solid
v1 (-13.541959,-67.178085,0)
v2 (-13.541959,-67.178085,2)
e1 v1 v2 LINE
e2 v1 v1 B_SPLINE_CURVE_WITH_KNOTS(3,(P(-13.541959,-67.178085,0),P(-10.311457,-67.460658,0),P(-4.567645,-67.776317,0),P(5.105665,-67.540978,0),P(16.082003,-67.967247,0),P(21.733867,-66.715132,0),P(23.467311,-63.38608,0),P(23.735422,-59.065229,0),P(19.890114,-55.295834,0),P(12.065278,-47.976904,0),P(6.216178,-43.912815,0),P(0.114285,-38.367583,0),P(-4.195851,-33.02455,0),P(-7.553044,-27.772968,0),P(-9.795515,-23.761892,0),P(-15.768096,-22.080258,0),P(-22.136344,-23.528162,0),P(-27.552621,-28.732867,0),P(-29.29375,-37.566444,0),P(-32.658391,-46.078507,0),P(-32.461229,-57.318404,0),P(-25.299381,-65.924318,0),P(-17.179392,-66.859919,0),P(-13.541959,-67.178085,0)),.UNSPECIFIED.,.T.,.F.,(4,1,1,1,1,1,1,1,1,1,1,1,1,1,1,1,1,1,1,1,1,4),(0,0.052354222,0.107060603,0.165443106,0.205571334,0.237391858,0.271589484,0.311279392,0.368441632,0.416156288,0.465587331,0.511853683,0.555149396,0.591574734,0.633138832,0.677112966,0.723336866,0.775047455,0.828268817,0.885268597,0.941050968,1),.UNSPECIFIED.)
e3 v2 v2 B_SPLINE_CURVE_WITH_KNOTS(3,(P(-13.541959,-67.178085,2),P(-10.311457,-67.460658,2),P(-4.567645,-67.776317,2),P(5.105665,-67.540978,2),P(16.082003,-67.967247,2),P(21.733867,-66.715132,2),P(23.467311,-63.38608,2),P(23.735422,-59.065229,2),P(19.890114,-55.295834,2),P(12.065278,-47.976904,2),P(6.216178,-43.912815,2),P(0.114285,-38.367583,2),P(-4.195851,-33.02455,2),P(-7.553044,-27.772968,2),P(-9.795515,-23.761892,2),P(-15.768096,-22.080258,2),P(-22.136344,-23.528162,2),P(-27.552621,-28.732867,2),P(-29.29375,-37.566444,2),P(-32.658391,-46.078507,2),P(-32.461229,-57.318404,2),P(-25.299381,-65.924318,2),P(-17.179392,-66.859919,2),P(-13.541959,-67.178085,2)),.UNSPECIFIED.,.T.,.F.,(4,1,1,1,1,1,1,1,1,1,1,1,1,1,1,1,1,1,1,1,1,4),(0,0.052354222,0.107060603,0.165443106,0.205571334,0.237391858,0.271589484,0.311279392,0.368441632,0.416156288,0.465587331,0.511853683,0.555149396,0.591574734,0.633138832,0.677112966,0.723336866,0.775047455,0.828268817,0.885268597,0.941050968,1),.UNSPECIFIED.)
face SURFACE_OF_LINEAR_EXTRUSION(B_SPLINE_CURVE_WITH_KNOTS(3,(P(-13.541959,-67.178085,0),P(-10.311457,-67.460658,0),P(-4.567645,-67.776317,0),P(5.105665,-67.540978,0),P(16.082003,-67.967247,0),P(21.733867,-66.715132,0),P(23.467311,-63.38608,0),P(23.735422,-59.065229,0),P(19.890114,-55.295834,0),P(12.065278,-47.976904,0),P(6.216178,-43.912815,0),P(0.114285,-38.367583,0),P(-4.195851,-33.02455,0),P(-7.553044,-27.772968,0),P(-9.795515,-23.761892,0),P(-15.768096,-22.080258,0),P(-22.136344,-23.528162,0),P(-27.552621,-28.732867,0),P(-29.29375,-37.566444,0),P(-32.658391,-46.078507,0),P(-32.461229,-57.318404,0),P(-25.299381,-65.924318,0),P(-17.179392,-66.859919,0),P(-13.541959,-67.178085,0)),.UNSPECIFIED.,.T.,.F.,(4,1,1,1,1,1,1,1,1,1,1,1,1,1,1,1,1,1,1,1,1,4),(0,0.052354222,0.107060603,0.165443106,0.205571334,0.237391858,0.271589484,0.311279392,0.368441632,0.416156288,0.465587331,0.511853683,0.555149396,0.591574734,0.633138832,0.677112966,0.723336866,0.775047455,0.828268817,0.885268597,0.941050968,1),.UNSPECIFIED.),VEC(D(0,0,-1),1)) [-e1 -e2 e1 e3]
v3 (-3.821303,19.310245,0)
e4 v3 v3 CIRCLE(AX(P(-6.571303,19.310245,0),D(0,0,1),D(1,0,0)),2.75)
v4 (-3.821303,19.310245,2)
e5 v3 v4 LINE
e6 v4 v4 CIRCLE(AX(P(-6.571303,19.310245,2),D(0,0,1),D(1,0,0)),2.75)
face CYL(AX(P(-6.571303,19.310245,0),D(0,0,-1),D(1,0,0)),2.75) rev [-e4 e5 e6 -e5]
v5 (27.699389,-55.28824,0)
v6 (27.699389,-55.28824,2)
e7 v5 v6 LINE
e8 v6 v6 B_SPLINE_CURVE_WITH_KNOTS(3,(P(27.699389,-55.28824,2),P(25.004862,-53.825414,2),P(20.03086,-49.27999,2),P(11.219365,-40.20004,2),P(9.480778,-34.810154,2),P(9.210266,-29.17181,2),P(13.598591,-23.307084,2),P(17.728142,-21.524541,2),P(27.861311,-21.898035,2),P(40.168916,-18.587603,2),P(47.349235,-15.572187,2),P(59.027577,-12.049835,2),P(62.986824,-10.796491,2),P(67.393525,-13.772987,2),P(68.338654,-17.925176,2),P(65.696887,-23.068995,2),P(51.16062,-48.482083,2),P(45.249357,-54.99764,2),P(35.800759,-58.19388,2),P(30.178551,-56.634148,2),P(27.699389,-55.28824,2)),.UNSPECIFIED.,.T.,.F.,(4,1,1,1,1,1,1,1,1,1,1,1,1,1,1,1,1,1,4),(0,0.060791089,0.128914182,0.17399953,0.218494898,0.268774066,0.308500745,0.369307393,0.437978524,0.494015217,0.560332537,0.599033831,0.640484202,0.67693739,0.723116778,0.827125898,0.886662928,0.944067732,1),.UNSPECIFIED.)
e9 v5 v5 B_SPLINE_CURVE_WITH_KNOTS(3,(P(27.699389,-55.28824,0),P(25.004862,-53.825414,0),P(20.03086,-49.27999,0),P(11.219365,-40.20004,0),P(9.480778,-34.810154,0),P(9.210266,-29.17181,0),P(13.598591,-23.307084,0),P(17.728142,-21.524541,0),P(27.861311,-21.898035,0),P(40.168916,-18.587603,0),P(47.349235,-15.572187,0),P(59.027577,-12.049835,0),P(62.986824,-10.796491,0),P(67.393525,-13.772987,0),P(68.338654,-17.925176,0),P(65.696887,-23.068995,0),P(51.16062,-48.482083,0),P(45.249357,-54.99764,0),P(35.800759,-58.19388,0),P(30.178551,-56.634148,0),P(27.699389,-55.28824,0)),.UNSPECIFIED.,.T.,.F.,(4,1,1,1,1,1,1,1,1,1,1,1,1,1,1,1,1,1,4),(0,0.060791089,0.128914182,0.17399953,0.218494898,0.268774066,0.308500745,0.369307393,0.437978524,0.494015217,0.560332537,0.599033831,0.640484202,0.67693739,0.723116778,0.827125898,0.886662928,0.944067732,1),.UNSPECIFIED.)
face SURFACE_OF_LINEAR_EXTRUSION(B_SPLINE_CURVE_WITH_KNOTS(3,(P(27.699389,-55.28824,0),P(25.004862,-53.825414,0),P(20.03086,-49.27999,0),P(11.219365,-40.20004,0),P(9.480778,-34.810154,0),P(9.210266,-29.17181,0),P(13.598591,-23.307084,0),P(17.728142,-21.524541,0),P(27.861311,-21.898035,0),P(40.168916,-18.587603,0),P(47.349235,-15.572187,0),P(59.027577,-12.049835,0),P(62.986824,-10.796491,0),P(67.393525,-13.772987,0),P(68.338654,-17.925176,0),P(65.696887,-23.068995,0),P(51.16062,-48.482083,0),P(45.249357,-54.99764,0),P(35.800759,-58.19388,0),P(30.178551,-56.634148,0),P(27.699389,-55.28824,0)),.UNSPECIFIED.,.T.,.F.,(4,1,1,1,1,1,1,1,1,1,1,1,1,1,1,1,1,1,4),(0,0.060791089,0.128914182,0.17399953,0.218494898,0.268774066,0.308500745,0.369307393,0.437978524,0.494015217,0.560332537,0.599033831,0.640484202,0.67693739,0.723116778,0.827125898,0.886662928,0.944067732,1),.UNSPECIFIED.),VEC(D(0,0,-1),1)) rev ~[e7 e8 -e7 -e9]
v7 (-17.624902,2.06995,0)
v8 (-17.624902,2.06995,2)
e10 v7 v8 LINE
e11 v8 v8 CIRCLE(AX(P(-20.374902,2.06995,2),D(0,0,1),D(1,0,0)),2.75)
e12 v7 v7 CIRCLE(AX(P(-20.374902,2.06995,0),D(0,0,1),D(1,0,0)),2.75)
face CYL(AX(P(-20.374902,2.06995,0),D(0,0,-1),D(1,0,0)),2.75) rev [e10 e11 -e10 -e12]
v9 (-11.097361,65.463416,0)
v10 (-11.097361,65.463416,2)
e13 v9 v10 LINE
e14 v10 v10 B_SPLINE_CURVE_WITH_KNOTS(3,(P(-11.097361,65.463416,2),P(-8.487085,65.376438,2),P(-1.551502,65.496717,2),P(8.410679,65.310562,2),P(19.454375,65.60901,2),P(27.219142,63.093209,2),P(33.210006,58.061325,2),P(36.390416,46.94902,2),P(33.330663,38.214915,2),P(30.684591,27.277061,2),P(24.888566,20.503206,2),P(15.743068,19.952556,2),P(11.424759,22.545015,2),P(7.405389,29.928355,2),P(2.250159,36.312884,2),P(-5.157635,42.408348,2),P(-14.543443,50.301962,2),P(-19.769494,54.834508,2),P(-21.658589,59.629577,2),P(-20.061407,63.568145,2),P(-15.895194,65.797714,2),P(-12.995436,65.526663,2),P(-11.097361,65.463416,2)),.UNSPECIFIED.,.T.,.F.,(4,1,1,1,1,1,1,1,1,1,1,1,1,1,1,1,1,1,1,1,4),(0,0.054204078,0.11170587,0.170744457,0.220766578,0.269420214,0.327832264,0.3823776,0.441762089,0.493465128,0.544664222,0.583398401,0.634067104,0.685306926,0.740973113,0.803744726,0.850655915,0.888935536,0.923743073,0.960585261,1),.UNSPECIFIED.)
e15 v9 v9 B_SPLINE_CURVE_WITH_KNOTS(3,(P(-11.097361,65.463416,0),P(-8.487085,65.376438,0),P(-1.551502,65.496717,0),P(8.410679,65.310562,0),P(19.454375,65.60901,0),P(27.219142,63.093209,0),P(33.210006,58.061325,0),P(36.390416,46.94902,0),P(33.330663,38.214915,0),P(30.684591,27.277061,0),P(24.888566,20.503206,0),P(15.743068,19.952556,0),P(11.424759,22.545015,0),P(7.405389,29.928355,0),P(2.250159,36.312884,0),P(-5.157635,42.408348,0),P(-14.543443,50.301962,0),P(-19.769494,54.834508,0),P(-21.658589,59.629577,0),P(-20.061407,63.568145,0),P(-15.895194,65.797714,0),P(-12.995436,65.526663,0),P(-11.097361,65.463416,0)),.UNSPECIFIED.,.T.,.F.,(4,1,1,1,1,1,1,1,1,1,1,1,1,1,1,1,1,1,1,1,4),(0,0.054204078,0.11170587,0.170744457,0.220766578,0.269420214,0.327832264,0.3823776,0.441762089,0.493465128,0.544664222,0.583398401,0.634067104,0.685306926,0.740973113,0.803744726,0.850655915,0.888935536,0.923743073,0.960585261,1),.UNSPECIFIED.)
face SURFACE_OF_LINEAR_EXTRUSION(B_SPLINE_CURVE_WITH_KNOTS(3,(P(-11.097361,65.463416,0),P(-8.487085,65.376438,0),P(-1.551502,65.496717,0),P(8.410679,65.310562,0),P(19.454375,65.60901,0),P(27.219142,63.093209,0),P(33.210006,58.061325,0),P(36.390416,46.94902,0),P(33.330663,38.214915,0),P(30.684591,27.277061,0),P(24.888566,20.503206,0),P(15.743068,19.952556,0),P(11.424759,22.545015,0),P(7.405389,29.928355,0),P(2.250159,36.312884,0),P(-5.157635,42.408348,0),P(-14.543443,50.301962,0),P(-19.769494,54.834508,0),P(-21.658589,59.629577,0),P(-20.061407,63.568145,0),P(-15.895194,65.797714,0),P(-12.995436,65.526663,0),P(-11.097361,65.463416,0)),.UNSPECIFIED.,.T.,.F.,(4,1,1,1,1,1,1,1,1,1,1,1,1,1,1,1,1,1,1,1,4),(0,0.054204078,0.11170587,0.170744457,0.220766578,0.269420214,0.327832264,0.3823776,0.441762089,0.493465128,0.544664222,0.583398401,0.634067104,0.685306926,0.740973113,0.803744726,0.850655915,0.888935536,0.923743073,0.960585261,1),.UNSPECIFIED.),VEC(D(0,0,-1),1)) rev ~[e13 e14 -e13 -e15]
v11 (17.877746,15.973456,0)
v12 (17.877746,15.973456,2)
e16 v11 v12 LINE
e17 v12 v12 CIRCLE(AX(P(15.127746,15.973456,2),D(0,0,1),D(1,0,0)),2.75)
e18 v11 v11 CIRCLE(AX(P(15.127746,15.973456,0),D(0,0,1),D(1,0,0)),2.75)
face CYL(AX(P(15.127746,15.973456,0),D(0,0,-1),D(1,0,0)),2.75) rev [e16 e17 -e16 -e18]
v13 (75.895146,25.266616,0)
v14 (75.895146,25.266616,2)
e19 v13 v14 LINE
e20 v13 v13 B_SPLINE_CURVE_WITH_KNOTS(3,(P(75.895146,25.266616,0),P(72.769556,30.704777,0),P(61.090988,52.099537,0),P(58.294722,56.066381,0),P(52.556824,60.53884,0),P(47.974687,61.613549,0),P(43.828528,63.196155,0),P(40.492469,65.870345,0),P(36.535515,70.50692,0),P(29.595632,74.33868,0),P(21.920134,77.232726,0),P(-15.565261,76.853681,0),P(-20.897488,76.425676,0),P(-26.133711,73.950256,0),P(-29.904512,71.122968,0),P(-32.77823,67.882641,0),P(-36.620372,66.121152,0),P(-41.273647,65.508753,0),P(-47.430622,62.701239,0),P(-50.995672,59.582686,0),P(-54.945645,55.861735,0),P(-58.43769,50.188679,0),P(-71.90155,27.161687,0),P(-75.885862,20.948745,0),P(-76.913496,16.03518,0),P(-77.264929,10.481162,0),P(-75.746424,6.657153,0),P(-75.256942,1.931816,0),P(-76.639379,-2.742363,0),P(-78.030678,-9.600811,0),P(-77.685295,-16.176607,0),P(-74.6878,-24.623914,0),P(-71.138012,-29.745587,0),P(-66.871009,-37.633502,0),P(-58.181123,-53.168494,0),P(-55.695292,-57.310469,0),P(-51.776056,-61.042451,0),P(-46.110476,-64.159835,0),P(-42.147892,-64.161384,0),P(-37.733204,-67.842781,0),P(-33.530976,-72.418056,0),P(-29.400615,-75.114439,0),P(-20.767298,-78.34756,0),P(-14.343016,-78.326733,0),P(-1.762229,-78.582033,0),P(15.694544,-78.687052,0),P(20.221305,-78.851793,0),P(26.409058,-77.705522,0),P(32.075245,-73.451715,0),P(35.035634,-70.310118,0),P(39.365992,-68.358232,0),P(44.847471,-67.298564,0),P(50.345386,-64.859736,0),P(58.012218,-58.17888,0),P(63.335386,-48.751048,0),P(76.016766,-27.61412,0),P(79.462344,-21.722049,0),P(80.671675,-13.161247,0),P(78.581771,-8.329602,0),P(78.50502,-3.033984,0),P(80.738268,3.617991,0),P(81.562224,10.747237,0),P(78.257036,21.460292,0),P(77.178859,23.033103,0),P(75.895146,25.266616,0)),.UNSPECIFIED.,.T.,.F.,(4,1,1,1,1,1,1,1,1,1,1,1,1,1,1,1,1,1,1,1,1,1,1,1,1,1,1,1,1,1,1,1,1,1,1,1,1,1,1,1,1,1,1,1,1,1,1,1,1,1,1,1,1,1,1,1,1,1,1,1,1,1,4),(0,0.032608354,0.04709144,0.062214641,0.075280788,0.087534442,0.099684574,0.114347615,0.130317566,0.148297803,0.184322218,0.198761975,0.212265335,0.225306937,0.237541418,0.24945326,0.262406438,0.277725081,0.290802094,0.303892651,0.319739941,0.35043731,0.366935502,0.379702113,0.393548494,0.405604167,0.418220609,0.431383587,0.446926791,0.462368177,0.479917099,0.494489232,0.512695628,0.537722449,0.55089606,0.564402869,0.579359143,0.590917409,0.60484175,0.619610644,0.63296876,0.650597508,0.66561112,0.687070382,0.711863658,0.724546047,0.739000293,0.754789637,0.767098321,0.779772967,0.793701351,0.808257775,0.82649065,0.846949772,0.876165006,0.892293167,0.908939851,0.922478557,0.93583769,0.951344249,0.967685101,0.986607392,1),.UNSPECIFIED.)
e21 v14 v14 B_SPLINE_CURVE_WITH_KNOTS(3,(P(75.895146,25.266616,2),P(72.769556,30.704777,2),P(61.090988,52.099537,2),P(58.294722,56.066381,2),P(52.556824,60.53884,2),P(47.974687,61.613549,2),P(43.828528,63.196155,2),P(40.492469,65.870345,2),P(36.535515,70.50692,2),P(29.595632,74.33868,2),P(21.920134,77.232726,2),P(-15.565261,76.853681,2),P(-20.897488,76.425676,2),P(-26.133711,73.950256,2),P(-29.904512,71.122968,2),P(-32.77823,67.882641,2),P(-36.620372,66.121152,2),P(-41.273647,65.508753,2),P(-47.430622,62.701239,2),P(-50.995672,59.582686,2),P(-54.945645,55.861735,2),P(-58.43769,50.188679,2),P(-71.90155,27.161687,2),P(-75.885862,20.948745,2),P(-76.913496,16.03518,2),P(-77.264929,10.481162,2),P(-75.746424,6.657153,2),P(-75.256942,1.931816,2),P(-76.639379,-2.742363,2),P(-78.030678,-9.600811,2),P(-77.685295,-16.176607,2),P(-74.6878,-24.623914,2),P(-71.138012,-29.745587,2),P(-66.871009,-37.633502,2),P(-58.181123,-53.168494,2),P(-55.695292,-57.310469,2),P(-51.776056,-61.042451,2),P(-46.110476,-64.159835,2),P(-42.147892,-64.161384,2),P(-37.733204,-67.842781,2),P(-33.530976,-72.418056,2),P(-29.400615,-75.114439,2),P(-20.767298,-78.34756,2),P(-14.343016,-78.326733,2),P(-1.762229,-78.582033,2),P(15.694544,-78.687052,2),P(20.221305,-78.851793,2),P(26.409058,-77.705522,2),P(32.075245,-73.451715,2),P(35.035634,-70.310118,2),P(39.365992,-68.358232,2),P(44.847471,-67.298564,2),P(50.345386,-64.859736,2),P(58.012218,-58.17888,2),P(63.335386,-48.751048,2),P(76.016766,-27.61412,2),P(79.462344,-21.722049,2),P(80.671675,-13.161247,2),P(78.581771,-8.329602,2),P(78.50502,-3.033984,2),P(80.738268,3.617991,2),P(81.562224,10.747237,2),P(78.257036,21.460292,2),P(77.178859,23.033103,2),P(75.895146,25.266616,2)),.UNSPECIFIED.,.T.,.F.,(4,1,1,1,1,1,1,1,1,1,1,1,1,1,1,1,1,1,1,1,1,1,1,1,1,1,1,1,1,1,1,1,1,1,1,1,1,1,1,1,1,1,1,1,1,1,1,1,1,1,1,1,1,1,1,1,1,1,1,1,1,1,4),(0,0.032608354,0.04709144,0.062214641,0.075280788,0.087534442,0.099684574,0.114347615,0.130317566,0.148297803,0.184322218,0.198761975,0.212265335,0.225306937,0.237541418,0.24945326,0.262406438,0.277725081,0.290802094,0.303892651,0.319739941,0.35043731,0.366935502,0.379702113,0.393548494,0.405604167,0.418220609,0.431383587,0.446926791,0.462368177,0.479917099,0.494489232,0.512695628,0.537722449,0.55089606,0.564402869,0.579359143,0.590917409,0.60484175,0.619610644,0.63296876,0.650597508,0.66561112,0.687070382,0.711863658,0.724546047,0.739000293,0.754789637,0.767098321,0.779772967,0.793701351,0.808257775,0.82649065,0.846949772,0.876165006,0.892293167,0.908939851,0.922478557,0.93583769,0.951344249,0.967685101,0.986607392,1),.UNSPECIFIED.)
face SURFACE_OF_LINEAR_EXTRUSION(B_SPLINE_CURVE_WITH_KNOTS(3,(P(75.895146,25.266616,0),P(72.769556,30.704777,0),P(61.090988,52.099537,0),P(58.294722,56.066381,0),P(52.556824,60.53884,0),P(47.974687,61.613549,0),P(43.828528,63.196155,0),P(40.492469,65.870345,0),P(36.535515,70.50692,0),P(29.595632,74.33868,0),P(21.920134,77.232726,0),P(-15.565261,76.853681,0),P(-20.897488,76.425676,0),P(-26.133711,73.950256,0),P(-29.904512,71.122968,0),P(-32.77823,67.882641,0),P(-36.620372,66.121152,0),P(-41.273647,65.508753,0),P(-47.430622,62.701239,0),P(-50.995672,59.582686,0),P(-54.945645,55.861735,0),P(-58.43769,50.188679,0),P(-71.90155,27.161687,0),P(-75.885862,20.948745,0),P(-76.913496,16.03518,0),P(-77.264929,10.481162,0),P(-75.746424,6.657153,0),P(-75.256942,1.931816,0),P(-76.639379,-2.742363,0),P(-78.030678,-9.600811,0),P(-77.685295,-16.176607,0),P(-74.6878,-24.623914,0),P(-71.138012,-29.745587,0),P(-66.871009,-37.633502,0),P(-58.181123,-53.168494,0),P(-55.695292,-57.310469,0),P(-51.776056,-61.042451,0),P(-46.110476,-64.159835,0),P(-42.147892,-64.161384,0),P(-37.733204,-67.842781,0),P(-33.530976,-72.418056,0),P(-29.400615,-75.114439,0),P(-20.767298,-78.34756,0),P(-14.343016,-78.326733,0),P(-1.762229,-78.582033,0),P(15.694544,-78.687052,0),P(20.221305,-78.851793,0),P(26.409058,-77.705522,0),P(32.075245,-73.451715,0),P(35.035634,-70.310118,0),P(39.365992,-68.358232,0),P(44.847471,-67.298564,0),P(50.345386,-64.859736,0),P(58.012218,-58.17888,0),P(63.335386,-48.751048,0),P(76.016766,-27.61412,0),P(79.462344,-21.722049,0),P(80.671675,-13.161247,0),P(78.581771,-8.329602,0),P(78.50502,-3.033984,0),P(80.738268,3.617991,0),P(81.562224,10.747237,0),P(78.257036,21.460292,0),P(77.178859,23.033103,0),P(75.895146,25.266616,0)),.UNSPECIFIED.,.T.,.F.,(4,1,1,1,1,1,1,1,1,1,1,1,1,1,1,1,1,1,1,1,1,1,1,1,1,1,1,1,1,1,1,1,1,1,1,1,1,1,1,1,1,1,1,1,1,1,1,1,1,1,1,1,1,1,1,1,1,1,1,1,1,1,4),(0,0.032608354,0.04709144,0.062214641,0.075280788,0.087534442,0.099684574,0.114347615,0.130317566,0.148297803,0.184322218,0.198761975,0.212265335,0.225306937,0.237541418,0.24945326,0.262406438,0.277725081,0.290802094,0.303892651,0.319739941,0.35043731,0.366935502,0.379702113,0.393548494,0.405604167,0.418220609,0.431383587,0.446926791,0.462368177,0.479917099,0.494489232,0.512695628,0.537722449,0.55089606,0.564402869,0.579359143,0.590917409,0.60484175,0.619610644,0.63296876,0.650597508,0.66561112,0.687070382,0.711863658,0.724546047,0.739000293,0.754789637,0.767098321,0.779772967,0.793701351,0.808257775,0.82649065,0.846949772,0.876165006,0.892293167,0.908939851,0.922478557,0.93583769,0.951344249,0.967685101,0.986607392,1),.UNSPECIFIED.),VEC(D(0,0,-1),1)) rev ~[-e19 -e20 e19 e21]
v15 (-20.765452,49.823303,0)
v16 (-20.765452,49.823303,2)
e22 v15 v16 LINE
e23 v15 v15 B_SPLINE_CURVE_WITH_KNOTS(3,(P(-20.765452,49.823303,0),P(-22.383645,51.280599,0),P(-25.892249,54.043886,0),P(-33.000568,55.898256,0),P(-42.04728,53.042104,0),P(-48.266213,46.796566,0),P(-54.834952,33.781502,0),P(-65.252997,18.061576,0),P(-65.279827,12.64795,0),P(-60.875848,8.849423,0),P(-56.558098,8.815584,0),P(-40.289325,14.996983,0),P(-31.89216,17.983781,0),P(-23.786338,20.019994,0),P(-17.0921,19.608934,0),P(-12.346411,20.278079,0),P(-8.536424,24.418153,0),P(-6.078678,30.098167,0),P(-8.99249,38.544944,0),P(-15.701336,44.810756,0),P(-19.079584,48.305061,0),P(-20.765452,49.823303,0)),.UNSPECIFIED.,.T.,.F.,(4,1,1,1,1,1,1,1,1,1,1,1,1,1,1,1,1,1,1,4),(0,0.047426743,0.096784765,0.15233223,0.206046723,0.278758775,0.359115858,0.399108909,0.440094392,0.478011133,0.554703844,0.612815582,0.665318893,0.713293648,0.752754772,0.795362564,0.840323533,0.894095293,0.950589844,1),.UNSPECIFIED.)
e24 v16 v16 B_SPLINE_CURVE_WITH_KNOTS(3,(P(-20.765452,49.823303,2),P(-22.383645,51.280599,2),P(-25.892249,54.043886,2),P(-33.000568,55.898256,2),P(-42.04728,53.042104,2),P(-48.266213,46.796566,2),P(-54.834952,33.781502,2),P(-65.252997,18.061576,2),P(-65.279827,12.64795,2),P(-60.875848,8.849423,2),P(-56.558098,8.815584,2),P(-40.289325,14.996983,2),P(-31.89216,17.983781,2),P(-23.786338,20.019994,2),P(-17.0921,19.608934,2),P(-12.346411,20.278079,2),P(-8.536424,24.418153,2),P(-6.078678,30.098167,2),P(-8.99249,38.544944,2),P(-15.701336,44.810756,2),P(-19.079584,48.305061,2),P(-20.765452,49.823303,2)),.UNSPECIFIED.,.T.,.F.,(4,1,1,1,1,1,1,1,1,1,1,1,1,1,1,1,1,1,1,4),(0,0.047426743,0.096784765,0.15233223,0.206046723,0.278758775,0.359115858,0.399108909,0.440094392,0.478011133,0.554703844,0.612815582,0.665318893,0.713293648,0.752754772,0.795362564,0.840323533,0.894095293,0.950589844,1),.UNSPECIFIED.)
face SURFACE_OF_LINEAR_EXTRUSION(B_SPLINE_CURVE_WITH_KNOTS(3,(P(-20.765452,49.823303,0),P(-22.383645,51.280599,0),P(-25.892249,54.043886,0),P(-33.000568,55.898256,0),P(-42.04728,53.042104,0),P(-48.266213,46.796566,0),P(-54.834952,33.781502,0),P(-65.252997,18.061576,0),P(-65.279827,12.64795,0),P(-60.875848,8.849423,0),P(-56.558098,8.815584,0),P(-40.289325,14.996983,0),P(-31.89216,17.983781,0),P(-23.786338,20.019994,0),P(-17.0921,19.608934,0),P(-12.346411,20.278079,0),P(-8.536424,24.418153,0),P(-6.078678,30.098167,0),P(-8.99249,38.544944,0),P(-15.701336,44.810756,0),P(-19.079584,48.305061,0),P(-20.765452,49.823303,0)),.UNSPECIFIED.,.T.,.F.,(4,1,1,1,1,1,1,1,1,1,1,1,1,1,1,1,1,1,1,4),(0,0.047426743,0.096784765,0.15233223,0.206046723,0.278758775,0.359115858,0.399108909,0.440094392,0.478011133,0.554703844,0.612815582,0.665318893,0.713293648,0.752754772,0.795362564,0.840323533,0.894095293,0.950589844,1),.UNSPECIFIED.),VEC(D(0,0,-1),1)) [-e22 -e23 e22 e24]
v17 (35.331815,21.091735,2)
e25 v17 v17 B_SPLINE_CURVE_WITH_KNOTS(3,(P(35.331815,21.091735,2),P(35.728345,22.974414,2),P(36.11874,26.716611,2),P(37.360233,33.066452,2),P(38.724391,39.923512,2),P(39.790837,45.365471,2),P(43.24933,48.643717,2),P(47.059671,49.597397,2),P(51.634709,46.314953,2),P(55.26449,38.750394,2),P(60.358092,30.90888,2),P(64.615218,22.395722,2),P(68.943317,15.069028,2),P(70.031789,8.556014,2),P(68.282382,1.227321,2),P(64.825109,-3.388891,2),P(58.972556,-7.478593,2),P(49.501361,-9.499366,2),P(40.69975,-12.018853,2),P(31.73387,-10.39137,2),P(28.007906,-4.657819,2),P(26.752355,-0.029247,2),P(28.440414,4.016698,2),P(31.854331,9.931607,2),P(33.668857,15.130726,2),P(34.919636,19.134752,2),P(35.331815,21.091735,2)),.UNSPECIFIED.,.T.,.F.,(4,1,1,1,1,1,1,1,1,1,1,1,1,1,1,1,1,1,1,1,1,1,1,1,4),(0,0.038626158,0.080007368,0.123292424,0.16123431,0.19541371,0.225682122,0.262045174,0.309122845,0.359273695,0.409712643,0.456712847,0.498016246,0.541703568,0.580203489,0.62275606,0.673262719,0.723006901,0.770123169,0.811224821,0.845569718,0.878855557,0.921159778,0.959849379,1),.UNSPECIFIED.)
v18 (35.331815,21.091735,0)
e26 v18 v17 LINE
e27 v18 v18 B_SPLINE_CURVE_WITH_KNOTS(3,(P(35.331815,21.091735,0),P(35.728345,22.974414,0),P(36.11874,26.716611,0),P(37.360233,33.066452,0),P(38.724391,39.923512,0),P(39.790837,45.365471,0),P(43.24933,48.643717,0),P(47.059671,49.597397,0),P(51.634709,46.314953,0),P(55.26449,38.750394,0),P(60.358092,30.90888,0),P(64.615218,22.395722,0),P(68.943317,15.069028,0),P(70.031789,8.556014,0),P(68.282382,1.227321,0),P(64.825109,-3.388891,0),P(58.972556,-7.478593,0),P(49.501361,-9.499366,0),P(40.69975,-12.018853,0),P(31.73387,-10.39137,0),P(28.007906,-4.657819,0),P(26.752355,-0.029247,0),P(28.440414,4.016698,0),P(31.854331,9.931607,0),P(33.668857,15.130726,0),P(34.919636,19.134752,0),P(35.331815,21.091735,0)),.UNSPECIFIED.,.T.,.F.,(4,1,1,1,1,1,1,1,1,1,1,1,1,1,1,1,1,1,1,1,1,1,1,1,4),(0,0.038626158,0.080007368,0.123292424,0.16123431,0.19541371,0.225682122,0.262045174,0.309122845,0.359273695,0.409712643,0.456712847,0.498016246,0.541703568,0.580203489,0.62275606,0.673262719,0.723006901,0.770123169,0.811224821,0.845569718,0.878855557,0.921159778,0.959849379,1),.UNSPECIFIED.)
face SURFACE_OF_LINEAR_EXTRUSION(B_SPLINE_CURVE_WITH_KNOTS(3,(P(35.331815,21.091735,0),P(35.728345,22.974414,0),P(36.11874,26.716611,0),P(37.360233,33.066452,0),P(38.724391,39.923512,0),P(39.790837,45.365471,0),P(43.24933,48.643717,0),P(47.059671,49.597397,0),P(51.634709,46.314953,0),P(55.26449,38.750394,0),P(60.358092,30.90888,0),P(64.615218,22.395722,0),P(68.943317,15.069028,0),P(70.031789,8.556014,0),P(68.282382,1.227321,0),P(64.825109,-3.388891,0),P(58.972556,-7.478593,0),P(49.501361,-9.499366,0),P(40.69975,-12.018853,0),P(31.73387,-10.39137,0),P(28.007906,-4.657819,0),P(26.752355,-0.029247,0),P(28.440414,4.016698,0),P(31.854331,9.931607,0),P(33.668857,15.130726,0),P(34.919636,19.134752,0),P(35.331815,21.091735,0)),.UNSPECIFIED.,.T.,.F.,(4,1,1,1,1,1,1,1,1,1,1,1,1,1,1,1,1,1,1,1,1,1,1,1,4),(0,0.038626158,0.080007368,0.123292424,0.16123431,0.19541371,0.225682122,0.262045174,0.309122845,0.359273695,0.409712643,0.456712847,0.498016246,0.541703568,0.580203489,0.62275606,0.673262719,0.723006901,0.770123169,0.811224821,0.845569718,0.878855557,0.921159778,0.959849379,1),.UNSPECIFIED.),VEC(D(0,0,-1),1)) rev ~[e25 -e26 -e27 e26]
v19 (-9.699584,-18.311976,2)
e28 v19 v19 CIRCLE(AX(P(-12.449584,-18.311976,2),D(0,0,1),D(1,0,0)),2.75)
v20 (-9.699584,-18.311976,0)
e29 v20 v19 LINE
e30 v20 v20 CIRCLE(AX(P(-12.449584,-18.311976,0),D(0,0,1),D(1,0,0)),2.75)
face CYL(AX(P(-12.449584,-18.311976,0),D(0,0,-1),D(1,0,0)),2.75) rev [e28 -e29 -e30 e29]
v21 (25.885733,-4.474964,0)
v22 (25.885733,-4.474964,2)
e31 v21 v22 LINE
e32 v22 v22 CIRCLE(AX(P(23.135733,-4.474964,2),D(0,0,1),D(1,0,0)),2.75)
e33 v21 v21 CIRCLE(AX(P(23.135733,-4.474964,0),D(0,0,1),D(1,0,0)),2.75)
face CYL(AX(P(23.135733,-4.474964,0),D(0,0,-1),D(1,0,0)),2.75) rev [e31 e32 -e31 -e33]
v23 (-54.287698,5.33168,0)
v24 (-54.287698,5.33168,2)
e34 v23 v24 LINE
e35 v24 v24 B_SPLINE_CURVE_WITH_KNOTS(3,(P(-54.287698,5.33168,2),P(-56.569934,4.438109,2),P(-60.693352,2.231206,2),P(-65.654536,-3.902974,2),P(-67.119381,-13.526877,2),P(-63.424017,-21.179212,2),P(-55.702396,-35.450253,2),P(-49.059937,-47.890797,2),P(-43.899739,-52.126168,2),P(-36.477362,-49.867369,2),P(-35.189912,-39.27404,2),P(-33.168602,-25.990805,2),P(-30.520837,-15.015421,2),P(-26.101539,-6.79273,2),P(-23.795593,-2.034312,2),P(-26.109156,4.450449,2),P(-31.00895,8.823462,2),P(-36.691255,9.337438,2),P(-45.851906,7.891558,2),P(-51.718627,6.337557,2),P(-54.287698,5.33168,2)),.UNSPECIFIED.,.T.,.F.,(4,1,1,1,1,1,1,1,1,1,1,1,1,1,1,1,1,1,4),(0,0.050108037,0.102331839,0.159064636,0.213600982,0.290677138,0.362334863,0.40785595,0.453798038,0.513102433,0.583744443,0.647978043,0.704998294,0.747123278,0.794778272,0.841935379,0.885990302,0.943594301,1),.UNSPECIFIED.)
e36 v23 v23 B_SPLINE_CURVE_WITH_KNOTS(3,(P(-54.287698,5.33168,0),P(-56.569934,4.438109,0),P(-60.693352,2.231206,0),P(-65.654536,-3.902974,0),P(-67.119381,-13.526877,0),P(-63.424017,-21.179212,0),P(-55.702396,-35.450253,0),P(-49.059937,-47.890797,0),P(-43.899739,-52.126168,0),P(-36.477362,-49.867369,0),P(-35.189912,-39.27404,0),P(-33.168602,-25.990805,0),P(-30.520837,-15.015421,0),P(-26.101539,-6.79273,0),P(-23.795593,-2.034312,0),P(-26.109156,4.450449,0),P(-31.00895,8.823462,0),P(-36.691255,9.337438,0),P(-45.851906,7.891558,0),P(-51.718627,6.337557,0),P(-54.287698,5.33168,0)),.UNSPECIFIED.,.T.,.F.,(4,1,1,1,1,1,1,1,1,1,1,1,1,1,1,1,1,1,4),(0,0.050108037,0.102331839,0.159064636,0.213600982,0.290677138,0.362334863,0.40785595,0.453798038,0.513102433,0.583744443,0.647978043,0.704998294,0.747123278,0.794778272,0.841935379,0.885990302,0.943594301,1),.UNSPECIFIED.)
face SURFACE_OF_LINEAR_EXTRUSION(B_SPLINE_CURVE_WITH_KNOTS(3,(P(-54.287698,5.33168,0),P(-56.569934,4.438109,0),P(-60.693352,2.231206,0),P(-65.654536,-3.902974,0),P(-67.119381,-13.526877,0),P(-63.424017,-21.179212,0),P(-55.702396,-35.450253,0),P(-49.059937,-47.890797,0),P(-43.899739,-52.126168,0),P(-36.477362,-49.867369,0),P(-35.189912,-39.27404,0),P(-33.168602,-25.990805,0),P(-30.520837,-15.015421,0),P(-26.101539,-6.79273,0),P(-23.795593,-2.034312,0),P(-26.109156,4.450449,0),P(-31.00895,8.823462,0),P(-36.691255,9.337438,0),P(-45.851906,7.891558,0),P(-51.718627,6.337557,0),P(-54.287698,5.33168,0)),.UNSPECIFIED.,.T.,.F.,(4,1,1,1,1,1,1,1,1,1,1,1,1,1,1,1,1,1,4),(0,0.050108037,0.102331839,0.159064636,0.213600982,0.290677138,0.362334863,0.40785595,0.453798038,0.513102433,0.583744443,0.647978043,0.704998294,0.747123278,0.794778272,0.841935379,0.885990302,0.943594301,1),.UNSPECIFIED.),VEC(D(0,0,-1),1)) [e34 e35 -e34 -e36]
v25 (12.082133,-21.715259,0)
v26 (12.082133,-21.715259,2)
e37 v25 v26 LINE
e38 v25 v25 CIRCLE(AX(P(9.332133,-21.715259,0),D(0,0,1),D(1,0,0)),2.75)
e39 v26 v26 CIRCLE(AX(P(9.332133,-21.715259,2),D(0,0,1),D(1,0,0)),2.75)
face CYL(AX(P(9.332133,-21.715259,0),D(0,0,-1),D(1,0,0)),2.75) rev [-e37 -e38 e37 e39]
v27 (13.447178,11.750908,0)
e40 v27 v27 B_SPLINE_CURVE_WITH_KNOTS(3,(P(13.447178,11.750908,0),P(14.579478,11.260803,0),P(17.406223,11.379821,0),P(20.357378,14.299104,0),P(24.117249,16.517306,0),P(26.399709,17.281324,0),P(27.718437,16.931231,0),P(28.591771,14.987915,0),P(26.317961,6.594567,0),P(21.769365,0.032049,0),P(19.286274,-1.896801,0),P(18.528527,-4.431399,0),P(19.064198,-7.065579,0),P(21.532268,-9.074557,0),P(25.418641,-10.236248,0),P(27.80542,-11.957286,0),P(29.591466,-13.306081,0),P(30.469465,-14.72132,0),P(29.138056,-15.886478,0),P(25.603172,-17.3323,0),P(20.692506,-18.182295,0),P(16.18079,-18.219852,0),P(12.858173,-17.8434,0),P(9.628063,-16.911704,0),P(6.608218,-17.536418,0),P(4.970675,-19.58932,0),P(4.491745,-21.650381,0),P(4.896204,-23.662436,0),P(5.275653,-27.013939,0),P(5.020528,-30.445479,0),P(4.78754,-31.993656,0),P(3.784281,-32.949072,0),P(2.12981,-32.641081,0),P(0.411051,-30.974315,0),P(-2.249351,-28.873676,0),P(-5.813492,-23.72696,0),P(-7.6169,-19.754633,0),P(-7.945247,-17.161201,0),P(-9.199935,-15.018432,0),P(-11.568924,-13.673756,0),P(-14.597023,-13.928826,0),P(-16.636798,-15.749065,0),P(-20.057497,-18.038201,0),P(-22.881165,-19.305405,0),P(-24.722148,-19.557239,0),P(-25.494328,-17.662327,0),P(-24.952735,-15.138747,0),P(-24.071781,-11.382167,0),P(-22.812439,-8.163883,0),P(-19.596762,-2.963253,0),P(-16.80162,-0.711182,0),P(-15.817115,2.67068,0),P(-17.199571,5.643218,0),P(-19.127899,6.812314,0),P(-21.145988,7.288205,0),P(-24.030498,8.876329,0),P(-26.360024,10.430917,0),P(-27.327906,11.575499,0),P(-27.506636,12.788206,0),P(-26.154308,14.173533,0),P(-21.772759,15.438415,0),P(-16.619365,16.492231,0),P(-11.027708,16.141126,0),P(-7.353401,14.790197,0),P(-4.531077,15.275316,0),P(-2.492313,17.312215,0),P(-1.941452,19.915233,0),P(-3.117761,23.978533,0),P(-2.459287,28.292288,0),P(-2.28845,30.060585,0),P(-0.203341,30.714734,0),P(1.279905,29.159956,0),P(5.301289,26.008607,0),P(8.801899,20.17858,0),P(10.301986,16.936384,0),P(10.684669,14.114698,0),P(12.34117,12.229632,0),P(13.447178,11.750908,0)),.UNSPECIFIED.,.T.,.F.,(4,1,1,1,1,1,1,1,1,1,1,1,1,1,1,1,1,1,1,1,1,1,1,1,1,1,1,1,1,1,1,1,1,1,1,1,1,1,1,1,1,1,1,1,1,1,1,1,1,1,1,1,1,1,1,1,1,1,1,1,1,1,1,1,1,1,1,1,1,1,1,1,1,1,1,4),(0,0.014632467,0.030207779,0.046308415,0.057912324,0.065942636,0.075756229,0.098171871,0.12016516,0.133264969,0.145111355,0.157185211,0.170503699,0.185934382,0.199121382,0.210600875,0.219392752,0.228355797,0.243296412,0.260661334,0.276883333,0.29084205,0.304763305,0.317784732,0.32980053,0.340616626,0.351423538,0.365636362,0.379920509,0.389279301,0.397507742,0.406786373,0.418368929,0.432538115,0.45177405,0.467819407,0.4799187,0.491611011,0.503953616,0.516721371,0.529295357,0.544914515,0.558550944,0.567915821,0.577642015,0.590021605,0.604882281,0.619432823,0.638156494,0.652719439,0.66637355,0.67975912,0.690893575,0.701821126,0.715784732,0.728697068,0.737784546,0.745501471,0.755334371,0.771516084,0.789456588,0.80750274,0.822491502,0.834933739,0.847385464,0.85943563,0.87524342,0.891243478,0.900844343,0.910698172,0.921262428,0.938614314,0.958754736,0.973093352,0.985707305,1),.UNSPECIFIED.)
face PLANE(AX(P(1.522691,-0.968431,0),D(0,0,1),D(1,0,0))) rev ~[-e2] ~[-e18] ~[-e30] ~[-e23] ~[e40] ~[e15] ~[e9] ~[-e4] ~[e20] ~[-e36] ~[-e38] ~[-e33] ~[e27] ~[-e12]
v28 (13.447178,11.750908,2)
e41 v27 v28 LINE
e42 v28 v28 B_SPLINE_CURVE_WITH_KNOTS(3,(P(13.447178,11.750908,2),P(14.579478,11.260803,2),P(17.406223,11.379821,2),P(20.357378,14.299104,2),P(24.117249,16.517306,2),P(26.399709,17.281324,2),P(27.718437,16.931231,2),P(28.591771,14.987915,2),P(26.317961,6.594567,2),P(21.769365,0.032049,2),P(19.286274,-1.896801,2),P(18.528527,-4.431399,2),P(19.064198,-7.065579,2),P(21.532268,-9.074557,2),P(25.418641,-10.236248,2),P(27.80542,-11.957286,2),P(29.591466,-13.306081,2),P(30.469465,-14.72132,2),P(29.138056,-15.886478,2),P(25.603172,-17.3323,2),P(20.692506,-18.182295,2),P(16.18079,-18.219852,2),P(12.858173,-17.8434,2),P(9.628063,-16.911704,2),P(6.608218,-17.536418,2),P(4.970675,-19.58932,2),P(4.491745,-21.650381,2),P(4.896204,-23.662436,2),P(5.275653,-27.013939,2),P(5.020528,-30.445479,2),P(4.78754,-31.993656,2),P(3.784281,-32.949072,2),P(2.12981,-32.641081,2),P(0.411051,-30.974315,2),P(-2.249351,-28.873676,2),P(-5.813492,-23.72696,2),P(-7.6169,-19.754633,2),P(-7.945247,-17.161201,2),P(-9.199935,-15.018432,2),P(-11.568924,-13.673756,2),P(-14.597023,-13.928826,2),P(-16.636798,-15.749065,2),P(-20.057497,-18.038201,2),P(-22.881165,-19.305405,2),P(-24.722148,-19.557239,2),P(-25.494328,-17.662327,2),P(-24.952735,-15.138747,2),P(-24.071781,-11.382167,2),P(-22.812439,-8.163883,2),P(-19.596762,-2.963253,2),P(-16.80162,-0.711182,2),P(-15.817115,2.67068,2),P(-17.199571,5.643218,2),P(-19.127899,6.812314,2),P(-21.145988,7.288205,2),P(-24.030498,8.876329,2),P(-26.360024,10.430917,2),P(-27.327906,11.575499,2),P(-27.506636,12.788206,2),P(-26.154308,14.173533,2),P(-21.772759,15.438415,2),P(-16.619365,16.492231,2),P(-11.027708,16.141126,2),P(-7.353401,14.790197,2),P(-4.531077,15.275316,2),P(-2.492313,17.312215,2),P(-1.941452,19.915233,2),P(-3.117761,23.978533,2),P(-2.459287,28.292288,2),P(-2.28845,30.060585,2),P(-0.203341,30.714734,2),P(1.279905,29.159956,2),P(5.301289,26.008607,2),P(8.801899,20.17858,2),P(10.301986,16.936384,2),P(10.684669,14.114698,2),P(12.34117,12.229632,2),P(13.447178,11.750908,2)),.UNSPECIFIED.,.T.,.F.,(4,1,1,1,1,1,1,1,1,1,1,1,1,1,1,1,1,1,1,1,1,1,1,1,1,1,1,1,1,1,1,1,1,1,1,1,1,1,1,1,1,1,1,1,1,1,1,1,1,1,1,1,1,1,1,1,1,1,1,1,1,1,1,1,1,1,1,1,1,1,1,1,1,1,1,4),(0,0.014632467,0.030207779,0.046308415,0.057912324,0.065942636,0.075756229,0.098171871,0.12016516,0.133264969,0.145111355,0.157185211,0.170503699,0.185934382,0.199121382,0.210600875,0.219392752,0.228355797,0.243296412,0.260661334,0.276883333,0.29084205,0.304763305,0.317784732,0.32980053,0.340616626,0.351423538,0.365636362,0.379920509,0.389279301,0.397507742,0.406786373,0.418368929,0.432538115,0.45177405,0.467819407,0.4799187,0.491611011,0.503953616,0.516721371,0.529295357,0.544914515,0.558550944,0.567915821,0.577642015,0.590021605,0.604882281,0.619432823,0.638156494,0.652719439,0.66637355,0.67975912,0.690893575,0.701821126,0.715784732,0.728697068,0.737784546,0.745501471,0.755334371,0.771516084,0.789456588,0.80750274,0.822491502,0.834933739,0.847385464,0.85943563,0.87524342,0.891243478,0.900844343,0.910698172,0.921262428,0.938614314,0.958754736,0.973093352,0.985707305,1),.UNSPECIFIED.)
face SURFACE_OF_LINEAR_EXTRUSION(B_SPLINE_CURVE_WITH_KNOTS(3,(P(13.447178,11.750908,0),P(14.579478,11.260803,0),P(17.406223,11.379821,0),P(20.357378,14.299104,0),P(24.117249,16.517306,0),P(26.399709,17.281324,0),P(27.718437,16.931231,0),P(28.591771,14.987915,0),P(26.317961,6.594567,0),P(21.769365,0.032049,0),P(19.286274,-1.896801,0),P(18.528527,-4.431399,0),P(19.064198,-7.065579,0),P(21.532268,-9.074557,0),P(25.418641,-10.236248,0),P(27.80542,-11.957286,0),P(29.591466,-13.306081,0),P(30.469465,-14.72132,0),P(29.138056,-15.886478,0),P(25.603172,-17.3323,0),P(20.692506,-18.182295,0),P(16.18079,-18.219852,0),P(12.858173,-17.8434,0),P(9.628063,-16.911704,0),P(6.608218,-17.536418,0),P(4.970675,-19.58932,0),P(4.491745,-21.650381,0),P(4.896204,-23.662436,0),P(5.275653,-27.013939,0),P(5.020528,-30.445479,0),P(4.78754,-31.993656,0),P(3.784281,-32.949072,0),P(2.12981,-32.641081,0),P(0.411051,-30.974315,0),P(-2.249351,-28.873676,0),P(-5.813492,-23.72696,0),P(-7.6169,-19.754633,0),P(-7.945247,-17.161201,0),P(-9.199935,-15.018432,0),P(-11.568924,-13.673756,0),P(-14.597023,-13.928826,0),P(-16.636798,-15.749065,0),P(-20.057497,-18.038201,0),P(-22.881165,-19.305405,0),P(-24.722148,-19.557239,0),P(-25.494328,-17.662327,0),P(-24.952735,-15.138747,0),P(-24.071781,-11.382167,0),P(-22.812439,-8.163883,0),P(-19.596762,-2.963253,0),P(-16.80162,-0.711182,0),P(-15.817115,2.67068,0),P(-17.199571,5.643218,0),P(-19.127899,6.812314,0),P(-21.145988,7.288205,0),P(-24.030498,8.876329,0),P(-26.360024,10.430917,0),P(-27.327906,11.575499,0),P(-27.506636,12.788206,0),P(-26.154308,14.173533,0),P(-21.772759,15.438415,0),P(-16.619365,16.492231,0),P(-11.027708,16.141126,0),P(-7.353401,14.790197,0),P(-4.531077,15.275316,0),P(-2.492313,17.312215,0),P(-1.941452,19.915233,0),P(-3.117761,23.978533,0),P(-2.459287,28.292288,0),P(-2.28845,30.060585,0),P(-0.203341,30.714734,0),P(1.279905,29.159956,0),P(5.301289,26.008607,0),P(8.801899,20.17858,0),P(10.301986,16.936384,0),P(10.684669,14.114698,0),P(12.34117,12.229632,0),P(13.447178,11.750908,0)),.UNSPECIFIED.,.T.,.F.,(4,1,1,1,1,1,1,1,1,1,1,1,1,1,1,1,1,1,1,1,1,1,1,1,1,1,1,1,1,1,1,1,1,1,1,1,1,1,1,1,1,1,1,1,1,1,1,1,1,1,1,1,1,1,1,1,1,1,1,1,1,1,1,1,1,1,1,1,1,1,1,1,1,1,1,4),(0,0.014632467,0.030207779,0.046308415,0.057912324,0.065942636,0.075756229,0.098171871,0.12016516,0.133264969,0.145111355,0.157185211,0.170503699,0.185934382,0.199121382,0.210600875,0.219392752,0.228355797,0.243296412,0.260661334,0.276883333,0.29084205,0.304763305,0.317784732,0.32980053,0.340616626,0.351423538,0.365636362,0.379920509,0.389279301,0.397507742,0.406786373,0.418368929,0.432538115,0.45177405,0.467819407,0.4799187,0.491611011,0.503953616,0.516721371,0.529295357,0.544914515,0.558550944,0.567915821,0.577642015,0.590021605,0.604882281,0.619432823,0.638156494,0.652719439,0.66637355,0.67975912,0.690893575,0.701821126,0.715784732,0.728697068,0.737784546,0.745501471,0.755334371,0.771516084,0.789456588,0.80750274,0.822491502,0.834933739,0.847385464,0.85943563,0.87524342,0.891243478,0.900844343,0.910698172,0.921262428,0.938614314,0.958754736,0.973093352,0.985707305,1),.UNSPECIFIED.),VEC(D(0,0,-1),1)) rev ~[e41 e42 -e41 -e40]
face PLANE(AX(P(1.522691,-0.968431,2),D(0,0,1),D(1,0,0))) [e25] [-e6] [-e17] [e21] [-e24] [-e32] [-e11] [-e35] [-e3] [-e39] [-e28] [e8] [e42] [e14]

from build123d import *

# Parameters (mm, degrees)
F0_R     = 2.75
F1_DEPTH = 2


with BuildPart() as f1:
    # F0 (on Top) → F1 (new body)
    with BuildSketch(Plane.XY):
        with BuildLine():
            add(Edge.make_bspline(
                [(75.8951455355, 25.2666156739), (72.7695559852, 30.704777467), (61.0909880256, 52.0995373219), (58.2947218852, 56.0663811689), (52.5568238647, 60.5388395203), (47.974687152, 61.6135485886), (43.8285275087, 63.1961551669), (40.4924686315, 65.8703451213), (36.5355151891, 70.5069195072), (29.5956316097, 74.3386801617), (21.9201344434, 77.2327258752), (-15.5652607625, 76.8536806818), (-20.8974883789, 76.4256760394), (-26.1337112491, 73.9502564138), (-29.9045120085, 71.1229677276), (-32.7782298407, 67.882640912), (-36.6203720829, 66.1211520183), (-41.2736466996, 65.5087533335), (-47.4306224019, 62.7012388603), (-50.9956718005, 59.5826862536), (-54.9456448881, 55.8617354091), (-58.4376899011, 50.1886792965), (-71.9015498481, 27.1616871694), (-75.8858615037, 20.948745029), (-76.9134962313, 16.0351800218), (-77.264928961, 10.4811620627), (-75.7464244257, 6.6571529124), (-75.256942159, 1.9318160029), (-76.6393789244, -2.7423628902), (-78.0306784778, -9.6008106611), (-77.6852947168, -16.1766073534), (-74.6878004293, -24.623913846), (-71.1380115348, -29.7455868503), (-66.8710085475, -37.6335019341), (-58.1811225736, -53.1684938639), (-55.6952922978, -57.3104690491), (-51.7760562834, -61.0424506625), (-46.1104756436, -64.1598349054), (-42.1478924606, -64.1613837147), (-37.7332036467, -67.8427812492), (-33.5309761194, -72.4180556264), (-29.4006148459, -75.1144393122), (-20.767298482, -78.3475600598), (-14.3430159045, -78.3267325982), (-1.7622288923, -78.5820329894), (15.6945444701, -78.6870522516), (20.2213052783, -78.851793038), (26.4090578592, -77.7055216735), (32.0752453501, -73.4517149709), (35.0356343171, -70.3101177869), (39.3659916015, -68.3582322911), (44.8474710813, -67.2985644452), (50.345386024, -64.8597358709), (58.0122184304, -58.1788800028), (63.3353862388, -48.7510483691), (76.0167659289, -27.6141198566), (79.4623439322, -21.72204931), (80.6716746065, -13.1612465237), (78.5817709043, -8.3296024845), (78.5050196424, -3.033983596), (80.738267833, 3.6179912794), (81.5622241153, 10.7472368241), (78.2570359733, 21.4602915854), (77.1788593916, 23.033103073), (75.8951455355, 25.2666156739)],
                knots=[0, 0, 0, 0, 0.0326083544, 0.0470914405, 0.0622146413, 0.0752807875, 0.0875344419, 0.0996845738, 0.1143476155, 0.1303175661, 0.1482978033, 0.184322218, 0.1987619752, 0.2122653353, 0.2253069374, 0.2375414181, 0.2494532598, 0.2624064378, 0.2777250813, 0.2908020936, 0.3038926512, 0.3197399411, 0.3504373101, 0.3669355024, 0.379702113, 0.3935484944, 0.4056041666, 0.4182206086, 0.4313835866, 0.4469267907, 0.4623681769, 0.4799170991, 0.4944892321, 0.5126956281, 0.537722449, 0.5508960601, 0.5644028693, 0.5793591428, 0.5909174094, 0.6048417505, 0.6196106441, 0.6329687597, 0.6505975082, 0.6656111203, 0.6870703819, 0.711863658, 0.7245460474, 0.7390002926, 0.7547896372, 0.7670983206, 0.7797729666, 0.7937013511, 0.808257775, 0.8264906503, 0.8469497722, 0.8761650057, 0.8922931674, 0.9089398514, 0.9224785568, 0.9358376901, 0.9513442489, 0.9676851014, 0.9866073918, 1, 1, 1, 1], degree=3))
        make_face()
        with BuildLine():
            add(Edge.make_bspline(
                [(-13.5419592261, -67.1780854464), (-10.3114573953, -67.4606578747), (-4.567644643, -67.7763166203), (5.105665271, -67.5409783836), (16.0820025549, -67.9672474342), (21.7338671769, -66.7151317436), (23.4673109827, -63.3860796673), (23.7354215806, -59.0652293834), (19.8901140936, -55.2958339032), (12.0652778571, -47.9769036239), (6.2161777494, -43.9128147611), (0.1142851178, -38.36758284), (-4.1958513102, -33.0245500442), (-7.5530440098, -27.772968473), (-9.7955153224, -23.7618921674), (-15.7680955659, -22.0802583324), (-22.1363444113, -23.5281619482), (-27.552621071, -28.7328670537), (-29.2937497992, -37.5664440529), (-32.6583913856, -46.0785069067), (-32.4612290619, -57.3184040133), (-25.2993808878, -65.9243182318), (-17.1793918298, -66.8599187287), (-13.5419592261, -67.1780854464)],
                knots=[0, 0, 0, 0, 0.0523542224, 0.1070606025, 0.165443106, 0.2055713342, 0.2373918576, 0.2715894835, 0.3112793916, 0.3684416316, 0.4161562877, 0.4655873315, 0.5118536834, 0.5551493958, 0.5915747336, 0.6331388321, 0.6771129656, 0.7233368661, 0.7750474553, 0.8282688166, 0.8852685966, 0.9410509681, 1, 1, 1, 1], degree=3))
        make_face(mode=Mode.SUBTRACT)
        with BuildLine():
            add(Edge.make_bspline(
                [(-54.2876981199, 5.3316801786), (-56.5699341842, 4.4381092326), (-60.6933523308, 2.2312062329), (-65.6545362602, -3.9029735138), (-67.1193814024, -13.5268767906), (-63.4240165904, -21.1792118103), (-55.7023958159, -35.450252536), (-49.0599374287, -47.8907969423), (-43.8997390803, -52.126168453), (-36.4773620894, -49.8673691279), (-35.1899116933, -39.2740400622), (-33.1686015451, -25.9908052358), (-30.5208368463, -15.0154210158), (-26.1015388905, -6.792730482), (-23.7955929543, -2.0343121471), (-26.1091557652, 4.4504485465), (-31.0089502041, 8.8234623673), (-36.6912545673, 9.3374379516), (-45.8519060667, 7.8915577711), (-51.7186268064, 6.3375566171), (-54.2876981199, 5.3316801786)],
                knots=[0, 0, 0, 0, 0.0501080368, 0.1023318395, 0.159064636, 0.2136009821, 0.2906771375, 0.3623348628, 0.40785595, 0.4537980378, 0.5131024335, 0.5837444434, 0.6479780431, 0.704998294, 0.747123278, 0.7947782716, 0.8419353791, 0.8859903025, 0.9435943013, 1, 1, 1, 1], degree=3))
        make_face(mode=Mode.SUBTRACT)
        with Locations((-12.449584, -18.3119762417)):
            Circle(F0_R, mode=Mode.SUBTRACT)
        with BuildLine():
            add(Edge.make_bspline(
                [(13.4471775964, 11.7509076372), (14.579477873, 11.2608025044), (17.4062232858, 11.379821387), (20.357377561, 14.2991038065), (24.1172490177, 16.5173064972), (26.3997086013, 17.281323868), (27.7184367706, 16.9312307043), (28.5917710812, 14.9879148652), (26.3179611382, 6.5945672796), (21.7693649555, 0.0320494443), (19.2862741583, -1.896801467), (18.5285265615, -4.4313987118), (19.0641979613, -7.0655787957), (21.5322683396, -9.0745573943), (25.4186407744, -10.2362481162), (27.8054204045, -11.9572863931), (29.5914658675, -13.306081218), (30.4694646496, -14.721319894), (29.1380558974, -15.8864779956), (25.6031722747, -17.3322995555), (20.6925055836, -18.1822954746), (16.1807899381, -18.2198518316), (12.8581727994, -17.843400438), (9.6280625271, -16.9117042434), (6.6082176733, -17.5364180863), (4.9706750804, -19.5893204171), (4.4917446552, -21.650381349), (4.8962041435, -23.6624362586), (5.2756534676, -27.0139390699), (5.0205278977, -30.4454787766), (4.7875404, -31.9936561419), (3.7842808911, -32.9490723395), (2.1298102078, -32.6410809081), (0.4110514941, -30.9743151786), (-2.2493511007, -28.8736763731), (-5.8134924171, -23.7269603041), (-7.6169004531, -19.7546329284), (-7.9452472161, -17.161200994), (-9.1999354067, -15.0184318981), (-11.5689238088, -13.6737558874), (-14.5970225626, -13.9288263), (-16.636798462, -15.7490648848), (-20.0574968087, -18.0382005799), (-22.8811646577, -19.3054046552), (-24.7221477379, -19.5572386238), (-25.4943276215, -17.6623273147), (-24.9527349066, -15.1387465315), (-24.0717814227, -11.3821667445), (-22.8124389567, -8.1638834914), (-19.5967616552, -2.96325273), (-16.8016202981, -0.7111815569), (-15.8171147225, 2.6706802415), (-17.1995711634, 5.6432176127), (-19.1278990274, 6.8123135863), (-21.1459883103, 7.2882049065), (-24.0304978631, 8.8763288507), (-26.3600241084, 10.4309168476), (-27.3279055664, 11.5754990822), (-27.5066363164, 12.7882059527), (-26.154308109, 14.1735334098), (-21.7727591742, 15.4384154795), (-16.6193647642, 16.4922308067), (-11.0277084489, 16.1411260308), (-7.3534010573, 14.7901968272), (-4.531076902, 15.2753163504), (-2.4923128699, 17.3122145447), (-1.9414521248, 19.9152325201), (-3.1177611787, 23.978533195), (-2.4592866014, 28.2922880512), (-2.2884501767, 30.0605848676), (-0.2033413731, 30.7147338677), (1.279904851, 29.1599559184), (5.3012894235, 26.008606606), (8.8018986478, 20.1785799795), (10.3019860185, 16.9363839324), (10.6846685118, 14.1146983378), (12.3411698201, 12.2296323176), (13.4471775964, 11.7509076372)],
                knots=[0, 0, 0, 0, 0.0146324669, 0.0302077785, 0.0463084149, 0.0579123241, 0.0659426358, 0.0757562293, 0.0981718707, 0.1201651601, 0.1332649691, 0.1451113548, 0.1571852113, 0.1705036987, 0.1859343822, 0.1991213816, 0.2106008746, 0.2193927518, 0.2283557972, 0.2432964124, 0.2606613341, 0.2768833328, 0.2908420496, 0.3047633046, 0.3177847323, 0.3298005298, 0.3406166264, 0.3514235378, 0.3656363615, 0.3799205092, 0.3892793006, 0.3975077419, 0.4067863726, 0.4183689287, 0.4325381146, 0.4517740498, 0.4678194072, 0.4799187003, 0.4916110112, 0.5039536161, 0.5167213707, 0.5292953573, 0.5449145149, 0.5585509435, 0.5679158208, 0.5776420153, 0.5900216046, 0.6048822809, 0.6194328228, 0.638156494, 0.6527194388, 0.6663735502, 0.6797591195, 0.6908935755, 0.7018211262, 0.7157847325, 0.7286970676, 0.7377845459, 0.7455014705, 0.7553343707, 0.7715160835, 0.7894565876, 0.8075027404, 0.8224915021, 0.8349337389, 0.8473854641, 0.8594356304, 0.8752434199, 0.8912434784, 0.9008443429, 0.9106981719, 0.921262428, 0.9386143136, 0.958754736, 0.9730933516, 0.9857073053, 1, 1, 1, 1], degree=3))
        make_face(mode=Mode.SUBTRACT)
        with Locations((9.3321334442, -21.7152591308)):
            Circle(F0_R, mode=Mode.SUBTRACT)
        with BuildLine():
            add(Edge.make_bspline(
                [(27.6993885636, -55.2882403135), (25.0048621508, -53.8254144196), (20.0308597186, -49.2799896213), (11.2193651659, -40.2000397947), (9.4807779384, -34.8101542904), (9.2102661095, -29.1718096207), (13.598590544, -23.3070836866), (17.7281415474, -21.5245410004), (27.8613105074, -21.8980346056), (40.1689159806, -18.5876030224), (47.3492346023, -15.572186625), (59.0275772928, -12.0498348571), (62.9868235237, -10.7964913041), (67.3935253196, -13.7729865505), (68.3386541382, -17.9251757108), (65.6968865634, -23.0689949369), (51.1606196743, -48.4820834287), (45.2493570118, -54.9976398104), (35.8007588088, -58.1938796413), (30.1785507857, -56.6341475856), (27.6993885636, -55.2882403135)],
                knots=[0, 0, 0, 0, 0.0607910894, 0.1289141824, 0.17399953, 0.2184948976, 0.2687740663, 0.3085007448, 0.369307393, 0.437978524, 0.4940152165, 0.5603325369, 0.5990338307, 0.6404842016, 0.6769373904, 0.7231167782, 0.8271258983, 0.8866629282, 0.9440677325, 1, 1, 1, 1], degree=3))
        make_face(mode=Mode.SUBTRACT)
        with Locations((23.1357328594, -4.4749639928)):
            Circle(F0_R, mode=Mode.SUBTRACT)
        with Locations((-20.3749021715, 2.0699496588)):
            Circle(F0_R, mode=Mode.SUBTRACT)
        with BuildLine():
            add(Edge.make_bspline(
                [(-20.7654517144, 49.8233027756), (-22.3836452927, 51.2805992926), (-25.8922493644, 54.0438862502), (-33.0005675157, 55.8982561539), (-42.0472804377, 53.0421040168), (-48.2662133588, 46.7965662446), (-54.8349522527, 33.7815020031), (-65.2529968201, 18.0615755202), (-65.2798272508, 12.6479497478), (-60.8758478114, 8.8494226887), (-56.5580978965, 8.8155842688), (-40.2893249952, 14.9969833461), (-31.8921596519, 17.9837808077), (-23.7863376563, 20.0199941955), (-17.0920998482, 19.6089336834), (-12.3464106053, 20.2780790775), (-8.5364239197, 24.4181525553), (-6.078677832, 30.0981669974), (-8.9924902096, 38.5449436786), (-15.7013362617, 44.8107560156), (-19.0795843808, 48.305061308), (-20.7654517144, 49.8233027756)],
                knots=[0, 0, 0, 0, 0.0474267434, 0.0967847653, 0.1523322304, 0.2060467226, 0.2787587746, 0.3591158582, 0.399108909, 0.4400943922, 0.4780111326, 0.5547038439, 0.6128155822, 0.6653188932, 0.7132936475, 0.7527547724, 0.7953625635, 0.8403235332, 0.894095293, 0.9505898438, 1, 1, 1, 1], degree=3))
        make_face(mode=Mode.SUBTRACT)
        with Locations((-6.5713027563, 19.3102447968)):
            Circle(F0_R, mode=Mode.SUBTRACT)
        with Locations((15.1277463397, 15.9734558152)):
            Circle(F0_R, mode=Mode.SUBTRACT)
        with BuildLine():
            add(Edge.make_bspline(
                [(35.3318154812, 21.0917349905), (35.7283448196, 22.9744141842), (36.1187404427, 26.7166113796), (37.3602334774, 33.06645187), (38.7243911169, 39.9235117108), (39.7908367638, 45.3654710155), (43.2493304466, 48.6437168519), (47.0596706134, 49.5973969883), (51.6347090988, 46.3149527627), (55.2644896666, 38.7503938319), (60.3580920887, 30.9088798996), (64.6152180738, 22.3957220645), (68.9433173395, 15.0690275534), (70.0317891358, 8.5560135292), (68.2823819541, 1.2273212123), (64.825108663, -3.3888910658), (58.9725563491, -7.4785932439), (49.5013614174, -9.4993658873), (40.6997495962, -12.0188525608), (31.7338700279, -10.3913698849), (28.0079060575, -4.6578186463), (26.7523554132, -0.0292472905), (28.4404143045, 4.0166984398), (31.8543308859, 9.9316069644), (33.6688570691, 15.130725605), (34.9196362783, 19.1347519019), (35.3318154812, 21.0917349905)],
                knots=[0, 0, 0, 0, 0.0386261583, 0.0800073681, 0.1232924243, 0.1612343102, 0.1954137102, 0.2256821218, 0.2620451742, 0.3091228451, 0.3592736952, 0.4097126432, 0.4567128467, 0.4980162457, 0.5417035682, 0.580203489, 0.6227560596, 0.6732627186, 0.7230069008, 0.7701231689, 0.8112248208, 0.8455697185, 0.8788555566, 0.9211597776, 0.9598493791, 1, 1, 1, 1], degree=3))
        make_face(mode=Mode.SUBTRACT)
        with BuildLine():
            add(Edge.make_bspline(
                [(-11.0973613337, 65.4634162784), (-8.4870847162, 65.376437535), (-1.5515024134, 65.4967166884), (8.4106785235, 65.3105619974), (19.4543748833, 65.6090101179), (27.2191419255, 63.093209439), (33.2100056037, 58.0613252543), (36.390415767, 46.9490203378), (33.3306629125, 38.2149145748), (30.6845906468, 27.2770608923), (24.8885661761, 20.5032058024), (15.7430679827, 19.9525556105), (11.424759096, 22.5450153115), (7.4053886886, 29.9283546652), (2.2501592656, 36.3128842025), (-5.1576354405, 42.4083484096), (-14.5434432405, 50.3019620582), (-19.7694940547, 54.8345076524), (-21.6585894468, 59.6295767265), (-20.0614069584, 63.5681451516), (-15.8951937265, 65.7977144362), (-12.9954357103, 65.5266632626), (-11.0973613337, 65.4634162784)],
                knots=[0, 0, 0, 0, 0.0542040775, 0.1117058701, 0.1707444565, 0.2207665784, 0.269420214, 0.3278322637, 0.3823776002, 0.4417620887, 0.493465128, 0.5446642222, 0.5833984005, 0.634067104, 0.685306926, 0.7409731135, 0.8037447258, 0.8506559155, 0.888935536, 0.9237430727, 0.9605852614, 1, 1, 1, 1], degree=3))
        make_face(mode=Mode.SUBTRACT)
    extrude(amount=F1_DEPTH)


solid = f1.part
